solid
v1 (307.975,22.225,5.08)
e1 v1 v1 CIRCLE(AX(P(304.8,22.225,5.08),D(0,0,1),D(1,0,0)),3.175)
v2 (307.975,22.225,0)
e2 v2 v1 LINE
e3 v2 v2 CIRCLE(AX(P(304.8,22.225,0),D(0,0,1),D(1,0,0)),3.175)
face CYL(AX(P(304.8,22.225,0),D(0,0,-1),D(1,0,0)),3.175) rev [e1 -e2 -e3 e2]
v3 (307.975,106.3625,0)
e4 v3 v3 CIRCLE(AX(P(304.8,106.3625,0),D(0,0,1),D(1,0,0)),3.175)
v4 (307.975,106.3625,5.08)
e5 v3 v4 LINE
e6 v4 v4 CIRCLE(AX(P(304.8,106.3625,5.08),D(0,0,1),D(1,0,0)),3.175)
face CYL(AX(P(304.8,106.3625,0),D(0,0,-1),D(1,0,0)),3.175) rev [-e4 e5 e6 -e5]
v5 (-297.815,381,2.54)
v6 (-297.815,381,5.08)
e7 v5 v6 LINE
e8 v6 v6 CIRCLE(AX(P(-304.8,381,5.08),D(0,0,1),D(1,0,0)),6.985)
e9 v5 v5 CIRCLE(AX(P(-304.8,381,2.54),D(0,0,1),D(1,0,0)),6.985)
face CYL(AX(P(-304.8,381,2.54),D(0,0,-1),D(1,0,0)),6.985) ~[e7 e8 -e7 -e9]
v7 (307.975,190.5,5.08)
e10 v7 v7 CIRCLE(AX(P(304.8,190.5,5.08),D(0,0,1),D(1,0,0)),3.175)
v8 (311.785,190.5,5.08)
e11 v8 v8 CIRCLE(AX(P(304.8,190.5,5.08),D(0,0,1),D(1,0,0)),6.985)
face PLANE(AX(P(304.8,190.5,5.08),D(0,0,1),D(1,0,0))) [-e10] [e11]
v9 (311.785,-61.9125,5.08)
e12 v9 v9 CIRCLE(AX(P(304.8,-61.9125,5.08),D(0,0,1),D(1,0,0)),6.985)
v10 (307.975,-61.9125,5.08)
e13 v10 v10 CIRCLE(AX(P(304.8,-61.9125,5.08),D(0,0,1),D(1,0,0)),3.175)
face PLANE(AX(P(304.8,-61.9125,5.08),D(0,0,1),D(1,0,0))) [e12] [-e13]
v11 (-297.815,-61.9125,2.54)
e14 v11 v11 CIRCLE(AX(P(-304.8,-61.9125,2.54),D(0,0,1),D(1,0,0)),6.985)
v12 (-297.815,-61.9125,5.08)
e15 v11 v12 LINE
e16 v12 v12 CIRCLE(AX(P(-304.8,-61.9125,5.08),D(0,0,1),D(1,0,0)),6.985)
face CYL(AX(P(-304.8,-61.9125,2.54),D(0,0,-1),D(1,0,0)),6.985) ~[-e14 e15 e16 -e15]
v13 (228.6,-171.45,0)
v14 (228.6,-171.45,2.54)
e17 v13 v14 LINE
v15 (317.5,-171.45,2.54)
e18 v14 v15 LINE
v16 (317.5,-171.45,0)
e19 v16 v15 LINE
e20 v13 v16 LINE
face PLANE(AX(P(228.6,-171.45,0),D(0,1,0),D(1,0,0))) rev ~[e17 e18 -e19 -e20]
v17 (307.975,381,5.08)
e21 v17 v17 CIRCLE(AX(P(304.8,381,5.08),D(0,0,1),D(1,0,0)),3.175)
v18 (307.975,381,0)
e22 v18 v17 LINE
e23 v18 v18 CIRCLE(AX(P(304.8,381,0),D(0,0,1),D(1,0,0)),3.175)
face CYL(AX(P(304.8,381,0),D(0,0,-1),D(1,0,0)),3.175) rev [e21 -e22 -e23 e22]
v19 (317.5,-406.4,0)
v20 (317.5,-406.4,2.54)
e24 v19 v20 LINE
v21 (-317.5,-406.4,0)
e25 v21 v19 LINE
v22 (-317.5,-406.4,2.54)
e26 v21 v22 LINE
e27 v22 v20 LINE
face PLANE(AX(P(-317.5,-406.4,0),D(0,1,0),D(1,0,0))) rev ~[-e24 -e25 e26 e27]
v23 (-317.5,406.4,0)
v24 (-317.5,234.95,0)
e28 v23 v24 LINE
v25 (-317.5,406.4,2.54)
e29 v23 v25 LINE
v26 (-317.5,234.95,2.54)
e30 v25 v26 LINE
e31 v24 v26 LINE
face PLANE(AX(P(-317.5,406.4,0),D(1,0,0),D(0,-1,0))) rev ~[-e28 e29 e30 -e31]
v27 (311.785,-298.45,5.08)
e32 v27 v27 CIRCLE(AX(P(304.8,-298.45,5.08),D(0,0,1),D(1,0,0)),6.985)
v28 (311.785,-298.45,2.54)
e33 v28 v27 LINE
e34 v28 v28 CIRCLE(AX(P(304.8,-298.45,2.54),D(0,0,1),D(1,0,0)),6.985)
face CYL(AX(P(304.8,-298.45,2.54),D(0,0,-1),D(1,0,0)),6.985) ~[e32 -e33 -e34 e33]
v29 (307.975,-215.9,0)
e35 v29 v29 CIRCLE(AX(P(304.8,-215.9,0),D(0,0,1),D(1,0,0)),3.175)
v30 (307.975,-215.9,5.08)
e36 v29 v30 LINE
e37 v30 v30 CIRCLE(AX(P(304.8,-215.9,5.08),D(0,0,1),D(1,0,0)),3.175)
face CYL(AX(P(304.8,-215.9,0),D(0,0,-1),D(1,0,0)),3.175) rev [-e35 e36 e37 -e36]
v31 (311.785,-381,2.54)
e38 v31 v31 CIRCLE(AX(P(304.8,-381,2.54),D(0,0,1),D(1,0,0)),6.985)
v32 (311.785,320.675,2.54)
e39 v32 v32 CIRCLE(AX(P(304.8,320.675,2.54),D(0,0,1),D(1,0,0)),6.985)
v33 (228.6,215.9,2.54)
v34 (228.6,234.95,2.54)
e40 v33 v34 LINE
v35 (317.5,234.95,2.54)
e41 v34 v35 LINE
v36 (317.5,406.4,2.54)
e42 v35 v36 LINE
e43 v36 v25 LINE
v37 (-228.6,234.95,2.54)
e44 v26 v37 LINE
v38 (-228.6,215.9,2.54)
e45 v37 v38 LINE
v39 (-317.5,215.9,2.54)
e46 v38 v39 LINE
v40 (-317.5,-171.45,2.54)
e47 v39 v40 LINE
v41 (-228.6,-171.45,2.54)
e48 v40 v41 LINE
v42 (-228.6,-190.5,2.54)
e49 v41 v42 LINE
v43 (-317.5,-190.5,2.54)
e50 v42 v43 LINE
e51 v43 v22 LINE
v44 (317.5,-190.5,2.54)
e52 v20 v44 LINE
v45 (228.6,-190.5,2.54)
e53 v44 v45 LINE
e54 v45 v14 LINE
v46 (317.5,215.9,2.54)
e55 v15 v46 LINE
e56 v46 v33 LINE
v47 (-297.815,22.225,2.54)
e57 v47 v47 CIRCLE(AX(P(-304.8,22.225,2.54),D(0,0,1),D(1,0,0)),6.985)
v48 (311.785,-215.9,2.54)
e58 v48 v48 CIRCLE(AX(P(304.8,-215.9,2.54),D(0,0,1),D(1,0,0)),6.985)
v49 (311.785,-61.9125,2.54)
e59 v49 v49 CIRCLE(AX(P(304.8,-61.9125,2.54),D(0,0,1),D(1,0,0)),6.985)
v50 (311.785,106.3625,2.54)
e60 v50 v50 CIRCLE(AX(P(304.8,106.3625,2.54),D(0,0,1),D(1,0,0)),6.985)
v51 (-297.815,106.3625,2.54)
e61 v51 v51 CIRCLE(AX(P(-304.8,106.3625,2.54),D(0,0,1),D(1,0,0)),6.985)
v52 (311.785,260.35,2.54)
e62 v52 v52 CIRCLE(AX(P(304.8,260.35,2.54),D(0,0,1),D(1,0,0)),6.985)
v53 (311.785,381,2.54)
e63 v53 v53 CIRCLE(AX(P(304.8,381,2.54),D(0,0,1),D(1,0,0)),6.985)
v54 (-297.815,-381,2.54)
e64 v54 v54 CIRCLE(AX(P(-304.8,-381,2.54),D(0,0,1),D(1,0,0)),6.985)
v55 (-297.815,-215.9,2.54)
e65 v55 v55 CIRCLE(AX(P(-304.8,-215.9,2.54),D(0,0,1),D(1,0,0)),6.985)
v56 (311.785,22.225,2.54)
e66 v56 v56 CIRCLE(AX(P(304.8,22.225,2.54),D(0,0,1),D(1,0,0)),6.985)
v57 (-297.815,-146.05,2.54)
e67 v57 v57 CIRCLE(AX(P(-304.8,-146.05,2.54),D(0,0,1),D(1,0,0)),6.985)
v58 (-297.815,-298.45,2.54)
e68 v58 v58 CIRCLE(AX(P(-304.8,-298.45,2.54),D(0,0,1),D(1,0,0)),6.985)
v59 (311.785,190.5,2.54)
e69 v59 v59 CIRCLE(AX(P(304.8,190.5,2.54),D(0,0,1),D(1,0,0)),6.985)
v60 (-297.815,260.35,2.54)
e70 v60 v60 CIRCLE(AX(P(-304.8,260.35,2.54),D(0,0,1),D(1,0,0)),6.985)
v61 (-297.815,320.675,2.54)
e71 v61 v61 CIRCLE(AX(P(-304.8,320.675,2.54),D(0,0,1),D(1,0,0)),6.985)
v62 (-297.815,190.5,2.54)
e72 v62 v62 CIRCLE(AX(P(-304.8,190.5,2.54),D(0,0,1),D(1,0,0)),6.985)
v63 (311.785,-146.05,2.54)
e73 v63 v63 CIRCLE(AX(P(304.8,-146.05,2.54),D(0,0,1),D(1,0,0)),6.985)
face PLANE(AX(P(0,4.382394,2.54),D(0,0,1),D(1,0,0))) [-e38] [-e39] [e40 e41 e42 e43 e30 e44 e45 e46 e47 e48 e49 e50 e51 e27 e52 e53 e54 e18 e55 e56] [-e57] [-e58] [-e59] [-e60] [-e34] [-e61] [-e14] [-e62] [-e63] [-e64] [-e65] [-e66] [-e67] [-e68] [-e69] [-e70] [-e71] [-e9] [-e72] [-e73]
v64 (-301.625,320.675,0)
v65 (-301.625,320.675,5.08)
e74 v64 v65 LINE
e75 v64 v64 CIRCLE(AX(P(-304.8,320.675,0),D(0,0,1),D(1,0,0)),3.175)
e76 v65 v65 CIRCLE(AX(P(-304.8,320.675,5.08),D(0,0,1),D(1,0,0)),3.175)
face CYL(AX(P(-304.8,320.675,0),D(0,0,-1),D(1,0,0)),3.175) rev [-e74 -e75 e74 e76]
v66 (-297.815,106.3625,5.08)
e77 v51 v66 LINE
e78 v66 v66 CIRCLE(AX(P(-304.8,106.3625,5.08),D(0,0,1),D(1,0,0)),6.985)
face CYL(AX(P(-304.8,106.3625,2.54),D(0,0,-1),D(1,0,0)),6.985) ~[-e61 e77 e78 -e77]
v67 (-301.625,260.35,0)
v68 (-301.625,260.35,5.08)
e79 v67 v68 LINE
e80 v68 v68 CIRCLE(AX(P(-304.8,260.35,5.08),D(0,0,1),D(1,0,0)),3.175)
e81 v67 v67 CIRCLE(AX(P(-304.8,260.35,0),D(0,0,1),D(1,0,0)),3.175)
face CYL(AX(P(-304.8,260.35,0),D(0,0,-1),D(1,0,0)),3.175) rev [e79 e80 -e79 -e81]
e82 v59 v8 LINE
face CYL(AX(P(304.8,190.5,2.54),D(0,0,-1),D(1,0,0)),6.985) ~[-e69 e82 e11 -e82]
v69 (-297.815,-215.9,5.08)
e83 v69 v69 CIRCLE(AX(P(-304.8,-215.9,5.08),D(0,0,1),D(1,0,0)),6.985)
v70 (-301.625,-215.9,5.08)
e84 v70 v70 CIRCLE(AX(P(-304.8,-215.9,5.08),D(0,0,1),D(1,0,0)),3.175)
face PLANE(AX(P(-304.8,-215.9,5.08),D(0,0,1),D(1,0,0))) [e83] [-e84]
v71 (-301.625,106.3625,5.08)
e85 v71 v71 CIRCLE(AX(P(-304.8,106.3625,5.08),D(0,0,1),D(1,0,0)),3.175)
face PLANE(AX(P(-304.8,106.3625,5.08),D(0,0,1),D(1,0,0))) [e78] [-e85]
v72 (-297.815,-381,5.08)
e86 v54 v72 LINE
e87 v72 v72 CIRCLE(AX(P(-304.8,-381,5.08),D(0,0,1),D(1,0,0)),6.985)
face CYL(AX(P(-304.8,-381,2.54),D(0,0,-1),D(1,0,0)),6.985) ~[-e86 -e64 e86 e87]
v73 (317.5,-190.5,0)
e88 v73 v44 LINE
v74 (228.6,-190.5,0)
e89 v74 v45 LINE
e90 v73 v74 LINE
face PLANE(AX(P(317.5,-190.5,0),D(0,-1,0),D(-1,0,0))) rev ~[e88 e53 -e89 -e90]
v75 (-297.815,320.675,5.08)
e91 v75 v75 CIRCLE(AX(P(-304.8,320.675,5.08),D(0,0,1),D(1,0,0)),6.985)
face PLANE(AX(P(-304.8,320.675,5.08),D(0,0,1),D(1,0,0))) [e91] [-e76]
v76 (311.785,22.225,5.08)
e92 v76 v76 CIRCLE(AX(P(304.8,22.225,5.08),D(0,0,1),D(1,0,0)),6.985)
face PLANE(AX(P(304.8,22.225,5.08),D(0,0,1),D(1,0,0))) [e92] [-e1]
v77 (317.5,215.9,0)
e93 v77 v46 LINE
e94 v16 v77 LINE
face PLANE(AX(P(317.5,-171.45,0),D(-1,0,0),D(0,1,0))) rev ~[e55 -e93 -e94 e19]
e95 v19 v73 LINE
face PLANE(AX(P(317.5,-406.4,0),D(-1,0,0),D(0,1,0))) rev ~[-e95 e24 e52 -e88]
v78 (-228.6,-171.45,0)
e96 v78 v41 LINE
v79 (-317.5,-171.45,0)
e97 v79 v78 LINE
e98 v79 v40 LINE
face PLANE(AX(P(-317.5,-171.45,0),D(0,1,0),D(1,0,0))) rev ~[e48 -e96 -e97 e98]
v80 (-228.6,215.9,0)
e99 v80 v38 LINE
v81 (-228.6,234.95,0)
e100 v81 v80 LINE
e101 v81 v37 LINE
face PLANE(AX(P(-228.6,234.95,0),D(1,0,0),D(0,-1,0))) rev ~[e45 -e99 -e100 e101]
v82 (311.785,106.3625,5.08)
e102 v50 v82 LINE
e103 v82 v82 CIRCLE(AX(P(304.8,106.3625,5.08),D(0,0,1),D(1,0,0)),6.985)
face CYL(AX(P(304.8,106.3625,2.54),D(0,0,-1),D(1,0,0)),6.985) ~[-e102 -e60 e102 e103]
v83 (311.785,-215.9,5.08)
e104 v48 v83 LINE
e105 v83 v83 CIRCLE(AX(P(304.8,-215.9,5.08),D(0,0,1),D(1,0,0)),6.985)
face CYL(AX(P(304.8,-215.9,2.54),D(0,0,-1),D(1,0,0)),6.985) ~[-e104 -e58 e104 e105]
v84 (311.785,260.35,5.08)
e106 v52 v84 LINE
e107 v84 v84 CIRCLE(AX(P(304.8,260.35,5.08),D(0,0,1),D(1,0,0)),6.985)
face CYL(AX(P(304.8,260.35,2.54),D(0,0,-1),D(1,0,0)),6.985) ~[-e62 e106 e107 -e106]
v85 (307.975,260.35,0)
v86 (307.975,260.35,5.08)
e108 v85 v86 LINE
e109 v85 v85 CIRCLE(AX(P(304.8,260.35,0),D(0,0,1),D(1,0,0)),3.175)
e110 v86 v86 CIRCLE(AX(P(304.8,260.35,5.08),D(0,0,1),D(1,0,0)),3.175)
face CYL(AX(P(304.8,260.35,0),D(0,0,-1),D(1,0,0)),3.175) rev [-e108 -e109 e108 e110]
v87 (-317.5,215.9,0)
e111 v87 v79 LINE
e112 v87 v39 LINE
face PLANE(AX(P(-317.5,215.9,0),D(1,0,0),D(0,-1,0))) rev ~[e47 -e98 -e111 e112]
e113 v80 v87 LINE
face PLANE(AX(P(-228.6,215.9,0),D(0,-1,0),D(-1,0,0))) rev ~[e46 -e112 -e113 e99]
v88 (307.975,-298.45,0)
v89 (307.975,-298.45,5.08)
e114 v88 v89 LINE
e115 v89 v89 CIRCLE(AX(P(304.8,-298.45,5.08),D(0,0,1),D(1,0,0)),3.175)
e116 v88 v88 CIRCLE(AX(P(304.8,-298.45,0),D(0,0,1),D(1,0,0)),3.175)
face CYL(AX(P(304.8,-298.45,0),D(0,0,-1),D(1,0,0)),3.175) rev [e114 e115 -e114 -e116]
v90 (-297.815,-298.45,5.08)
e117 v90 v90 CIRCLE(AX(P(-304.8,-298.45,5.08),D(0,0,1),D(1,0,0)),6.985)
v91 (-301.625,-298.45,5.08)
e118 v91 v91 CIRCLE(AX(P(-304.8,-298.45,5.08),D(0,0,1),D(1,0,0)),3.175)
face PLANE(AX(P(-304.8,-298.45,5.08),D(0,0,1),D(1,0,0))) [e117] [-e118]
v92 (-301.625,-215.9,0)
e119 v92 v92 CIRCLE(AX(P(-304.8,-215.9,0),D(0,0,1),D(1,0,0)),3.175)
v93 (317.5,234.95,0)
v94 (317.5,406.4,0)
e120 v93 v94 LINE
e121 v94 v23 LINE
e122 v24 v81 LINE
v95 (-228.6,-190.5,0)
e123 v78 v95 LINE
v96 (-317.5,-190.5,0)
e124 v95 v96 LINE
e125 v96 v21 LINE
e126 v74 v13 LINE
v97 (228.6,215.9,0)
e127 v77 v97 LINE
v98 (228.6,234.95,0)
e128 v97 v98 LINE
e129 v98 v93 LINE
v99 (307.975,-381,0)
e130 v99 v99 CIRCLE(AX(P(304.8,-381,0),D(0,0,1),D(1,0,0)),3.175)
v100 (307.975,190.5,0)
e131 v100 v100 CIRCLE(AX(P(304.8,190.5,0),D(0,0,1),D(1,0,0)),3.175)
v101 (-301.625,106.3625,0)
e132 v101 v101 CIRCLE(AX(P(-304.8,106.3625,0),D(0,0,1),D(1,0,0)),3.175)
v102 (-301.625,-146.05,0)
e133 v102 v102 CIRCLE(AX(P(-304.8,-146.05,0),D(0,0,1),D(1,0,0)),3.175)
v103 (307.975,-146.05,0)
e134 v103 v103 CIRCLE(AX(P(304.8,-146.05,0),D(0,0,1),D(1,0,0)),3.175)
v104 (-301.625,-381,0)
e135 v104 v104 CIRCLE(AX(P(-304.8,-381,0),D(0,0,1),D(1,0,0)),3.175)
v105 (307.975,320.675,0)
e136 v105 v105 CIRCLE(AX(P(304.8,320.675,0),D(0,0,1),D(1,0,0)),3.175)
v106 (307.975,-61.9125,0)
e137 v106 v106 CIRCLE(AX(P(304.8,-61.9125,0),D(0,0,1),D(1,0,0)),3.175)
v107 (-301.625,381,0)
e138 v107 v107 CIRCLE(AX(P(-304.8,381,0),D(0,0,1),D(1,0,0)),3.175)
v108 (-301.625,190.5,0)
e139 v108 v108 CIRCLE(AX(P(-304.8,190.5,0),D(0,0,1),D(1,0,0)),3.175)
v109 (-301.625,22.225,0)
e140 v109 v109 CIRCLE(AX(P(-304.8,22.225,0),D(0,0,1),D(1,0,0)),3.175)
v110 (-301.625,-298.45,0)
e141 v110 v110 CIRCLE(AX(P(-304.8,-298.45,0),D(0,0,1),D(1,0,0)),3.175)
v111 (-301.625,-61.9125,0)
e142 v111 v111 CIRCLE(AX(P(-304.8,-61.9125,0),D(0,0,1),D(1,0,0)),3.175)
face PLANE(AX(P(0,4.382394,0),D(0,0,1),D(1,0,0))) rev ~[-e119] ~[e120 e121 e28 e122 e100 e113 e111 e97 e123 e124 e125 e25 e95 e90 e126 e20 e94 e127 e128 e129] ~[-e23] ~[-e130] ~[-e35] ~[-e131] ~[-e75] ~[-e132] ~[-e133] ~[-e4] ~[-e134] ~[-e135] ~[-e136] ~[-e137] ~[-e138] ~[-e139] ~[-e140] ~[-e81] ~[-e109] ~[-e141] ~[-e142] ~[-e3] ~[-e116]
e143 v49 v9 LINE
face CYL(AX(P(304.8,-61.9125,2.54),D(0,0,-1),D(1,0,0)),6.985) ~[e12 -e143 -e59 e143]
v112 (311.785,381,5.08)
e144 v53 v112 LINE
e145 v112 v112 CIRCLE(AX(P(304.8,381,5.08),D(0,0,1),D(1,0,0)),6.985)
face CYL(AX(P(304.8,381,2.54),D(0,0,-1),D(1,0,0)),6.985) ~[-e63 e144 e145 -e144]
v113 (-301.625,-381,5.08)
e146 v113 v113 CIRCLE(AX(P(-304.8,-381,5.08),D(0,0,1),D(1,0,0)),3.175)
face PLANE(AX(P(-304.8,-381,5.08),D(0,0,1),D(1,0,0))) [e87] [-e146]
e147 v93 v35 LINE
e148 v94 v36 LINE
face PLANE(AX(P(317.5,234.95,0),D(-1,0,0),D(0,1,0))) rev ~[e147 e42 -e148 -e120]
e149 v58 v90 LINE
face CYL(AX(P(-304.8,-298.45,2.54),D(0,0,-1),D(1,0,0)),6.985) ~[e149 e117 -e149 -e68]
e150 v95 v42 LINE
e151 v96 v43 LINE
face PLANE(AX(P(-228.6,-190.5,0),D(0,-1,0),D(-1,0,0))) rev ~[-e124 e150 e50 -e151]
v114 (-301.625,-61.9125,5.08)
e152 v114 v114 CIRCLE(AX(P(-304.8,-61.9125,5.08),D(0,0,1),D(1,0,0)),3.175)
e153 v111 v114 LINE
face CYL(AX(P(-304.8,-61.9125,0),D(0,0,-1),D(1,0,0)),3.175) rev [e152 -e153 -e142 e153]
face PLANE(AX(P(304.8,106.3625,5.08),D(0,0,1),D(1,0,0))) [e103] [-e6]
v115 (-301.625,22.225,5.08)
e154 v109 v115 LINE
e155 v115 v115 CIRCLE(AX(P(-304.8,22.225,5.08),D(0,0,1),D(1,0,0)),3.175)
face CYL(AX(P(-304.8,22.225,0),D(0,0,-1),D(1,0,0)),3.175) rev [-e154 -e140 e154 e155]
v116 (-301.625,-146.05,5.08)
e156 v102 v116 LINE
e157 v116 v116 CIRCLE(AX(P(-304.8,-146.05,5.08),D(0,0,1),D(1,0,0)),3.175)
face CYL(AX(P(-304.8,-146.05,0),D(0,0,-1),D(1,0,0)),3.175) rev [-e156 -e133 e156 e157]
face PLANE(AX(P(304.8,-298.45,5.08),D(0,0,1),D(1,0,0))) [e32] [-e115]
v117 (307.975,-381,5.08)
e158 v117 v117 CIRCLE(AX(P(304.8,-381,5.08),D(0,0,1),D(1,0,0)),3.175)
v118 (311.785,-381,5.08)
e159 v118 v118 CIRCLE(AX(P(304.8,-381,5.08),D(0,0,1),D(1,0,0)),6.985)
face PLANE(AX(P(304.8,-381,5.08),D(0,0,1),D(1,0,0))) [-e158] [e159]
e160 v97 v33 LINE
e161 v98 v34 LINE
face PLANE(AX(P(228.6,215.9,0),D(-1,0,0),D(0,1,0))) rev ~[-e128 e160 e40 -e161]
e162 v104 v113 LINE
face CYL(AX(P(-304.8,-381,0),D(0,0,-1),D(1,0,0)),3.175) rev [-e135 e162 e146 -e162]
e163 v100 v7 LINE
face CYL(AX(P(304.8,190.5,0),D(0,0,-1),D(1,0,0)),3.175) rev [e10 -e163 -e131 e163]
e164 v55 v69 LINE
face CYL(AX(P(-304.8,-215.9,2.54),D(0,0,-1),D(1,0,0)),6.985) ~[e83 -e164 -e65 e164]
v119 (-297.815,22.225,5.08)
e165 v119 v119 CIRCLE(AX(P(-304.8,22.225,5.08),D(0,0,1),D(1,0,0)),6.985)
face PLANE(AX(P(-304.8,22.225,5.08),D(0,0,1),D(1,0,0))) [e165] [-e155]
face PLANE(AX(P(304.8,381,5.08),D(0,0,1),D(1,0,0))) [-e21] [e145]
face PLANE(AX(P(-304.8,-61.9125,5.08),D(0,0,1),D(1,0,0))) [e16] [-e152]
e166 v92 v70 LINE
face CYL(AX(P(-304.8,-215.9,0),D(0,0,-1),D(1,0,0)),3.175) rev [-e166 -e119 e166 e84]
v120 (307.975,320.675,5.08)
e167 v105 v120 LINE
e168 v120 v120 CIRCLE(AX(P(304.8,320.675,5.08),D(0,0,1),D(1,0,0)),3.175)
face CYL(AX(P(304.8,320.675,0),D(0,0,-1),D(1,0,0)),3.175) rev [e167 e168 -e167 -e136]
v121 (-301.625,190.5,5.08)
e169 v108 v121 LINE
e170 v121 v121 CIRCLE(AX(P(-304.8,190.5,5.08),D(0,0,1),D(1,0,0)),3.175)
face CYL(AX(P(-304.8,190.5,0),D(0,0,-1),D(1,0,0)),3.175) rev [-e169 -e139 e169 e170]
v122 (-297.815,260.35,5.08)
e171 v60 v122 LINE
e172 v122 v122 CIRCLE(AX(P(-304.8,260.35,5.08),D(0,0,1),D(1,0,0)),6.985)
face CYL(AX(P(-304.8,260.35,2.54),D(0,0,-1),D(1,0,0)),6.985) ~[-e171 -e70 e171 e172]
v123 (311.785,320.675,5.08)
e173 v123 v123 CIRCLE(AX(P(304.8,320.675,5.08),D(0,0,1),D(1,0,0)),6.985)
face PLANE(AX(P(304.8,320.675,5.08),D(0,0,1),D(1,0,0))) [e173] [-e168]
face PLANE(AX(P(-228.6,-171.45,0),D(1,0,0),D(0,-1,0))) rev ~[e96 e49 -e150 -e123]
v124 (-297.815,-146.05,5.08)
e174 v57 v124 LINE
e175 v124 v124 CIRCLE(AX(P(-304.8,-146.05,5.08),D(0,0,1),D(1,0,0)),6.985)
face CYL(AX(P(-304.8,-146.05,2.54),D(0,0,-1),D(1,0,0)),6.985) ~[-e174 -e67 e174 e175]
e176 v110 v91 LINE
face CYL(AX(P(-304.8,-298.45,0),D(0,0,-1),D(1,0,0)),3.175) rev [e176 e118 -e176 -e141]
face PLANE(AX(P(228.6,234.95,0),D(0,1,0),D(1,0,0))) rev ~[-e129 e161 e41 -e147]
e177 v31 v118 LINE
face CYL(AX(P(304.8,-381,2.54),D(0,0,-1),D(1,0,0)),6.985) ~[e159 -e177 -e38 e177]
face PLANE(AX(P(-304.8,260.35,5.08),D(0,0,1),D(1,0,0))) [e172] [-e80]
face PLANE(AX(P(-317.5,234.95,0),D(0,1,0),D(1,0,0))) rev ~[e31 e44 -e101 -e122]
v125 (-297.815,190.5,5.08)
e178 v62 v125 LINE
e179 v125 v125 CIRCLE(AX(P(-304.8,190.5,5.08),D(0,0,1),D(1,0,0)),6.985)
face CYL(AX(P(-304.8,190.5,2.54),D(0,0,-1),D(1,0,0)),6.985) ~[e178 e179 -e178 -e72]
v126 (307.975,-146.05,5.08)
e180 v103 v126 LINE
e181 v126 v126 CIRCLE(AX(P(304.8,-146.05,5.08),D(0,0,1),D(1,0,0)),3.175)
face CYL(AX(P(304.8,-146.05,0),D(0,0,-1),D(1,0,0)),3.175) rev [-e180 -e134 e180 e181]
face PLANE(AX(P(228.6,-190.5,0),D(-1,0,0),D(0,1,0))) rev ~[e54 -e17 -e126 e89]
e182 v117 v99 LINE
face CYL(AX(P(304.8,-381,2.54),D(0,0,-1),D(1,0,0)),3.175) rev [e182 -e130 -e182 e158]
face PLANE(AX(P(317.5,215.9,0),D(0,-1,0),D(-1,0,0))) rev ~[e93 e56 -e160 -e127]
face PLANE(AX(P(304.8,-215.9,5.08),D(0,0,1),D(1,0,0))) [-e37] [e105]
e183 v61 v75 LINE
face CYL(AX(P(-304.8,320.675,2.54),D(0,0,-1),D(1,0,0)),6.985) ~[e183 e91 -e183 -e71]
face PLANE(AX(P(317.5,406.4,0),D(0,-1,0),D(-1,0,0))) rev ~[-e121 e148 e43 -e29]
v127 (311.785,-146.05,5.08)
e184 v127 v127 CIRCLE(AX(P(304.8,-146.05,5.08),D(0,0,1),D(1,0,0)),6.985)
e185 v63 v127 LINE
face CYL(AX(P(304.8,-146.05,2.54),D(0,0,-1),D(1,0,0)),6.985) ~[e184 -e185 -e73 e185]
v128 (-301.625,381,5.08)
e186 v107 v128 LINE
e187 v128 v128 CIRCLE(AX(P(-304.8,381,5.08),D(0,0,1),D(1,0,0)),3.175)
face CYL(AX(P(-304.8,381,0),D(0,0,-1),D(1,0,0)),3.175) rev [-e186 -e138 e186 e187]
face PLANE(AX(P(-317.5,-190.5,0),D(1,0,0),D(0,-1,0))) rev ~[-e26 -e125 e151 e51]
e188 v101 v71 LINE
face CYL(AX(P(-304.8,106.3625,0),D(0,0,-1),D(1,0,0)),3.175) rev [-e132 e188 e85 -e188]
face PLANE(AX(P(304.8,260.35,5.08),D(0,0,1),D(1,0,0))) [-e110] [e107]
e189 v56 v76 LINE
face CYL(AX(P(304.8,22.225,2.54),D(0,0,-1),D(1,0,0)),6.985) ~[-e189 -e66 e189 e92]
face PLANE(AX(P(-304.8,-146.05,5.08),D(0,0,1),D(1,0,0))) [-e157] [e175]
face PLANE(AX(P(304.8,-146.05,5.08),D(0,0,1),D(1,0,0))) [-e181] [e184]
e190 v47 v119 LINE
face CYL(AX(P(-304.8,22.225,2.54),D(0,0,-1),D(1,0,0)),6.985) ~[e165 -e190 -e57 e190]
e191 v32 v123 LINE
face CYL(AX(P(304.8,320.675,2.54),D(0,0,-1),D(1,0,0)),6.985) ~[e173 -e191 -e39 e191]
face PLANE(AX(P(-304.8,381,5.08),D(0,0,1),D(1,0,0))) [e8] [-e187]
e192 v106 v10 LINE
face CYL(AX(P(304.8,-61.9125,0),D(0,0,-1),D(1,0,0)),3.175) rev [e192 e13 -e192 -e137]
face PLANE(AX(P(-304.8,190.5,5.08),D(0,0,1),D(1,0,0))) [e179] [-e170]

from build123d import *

# Parameters (mm, degrees)
F0_R     = 3.175
F1_DEPTH = 2.54
F2_R     = 6.985
F2_R_2   = 3.175
F3_DEPTH = 2.54


with BuildPart() as f1:
    # F0 (on Top) → F1 (new body)
    with BuildSketch(Plane.XY):
        Polygon((-317.5, -406.4), (317.5, -406.4), (317.5, -190.5), (228.6, -190.5), (228.6, -171.45), (317.5, -171.45), (317.5, 215.9), (228.6, 215.9), (228.6, 234.95), (317.5, 234.95), (317.5, 406.4), (-317.5, 406.4), (-317.5, 234.95), (-228.6, 234.95), (-228.6, 215.9), (-317.5, 215.9), (-317.5, -171.45), (-228.6, -171.45), (-228.6, -190.5), (-317.5, -190.5), align=None)
        with Locations((-304.8, -381)):
            Circle(F0_R, mode=Mode.SUBTRACT)
        with Locations((-304.8, -298.45)):
            Circle(F0_R, mode=Mode.SUBTRACT)
        with Locations((-304.8, -215.9)):
            Circle(F0_R, mode=Mode.SUBTRACT)
        with Locations((-304.8, -146.05)):
            Circle(F0_R, mode=Mode.SUBTRACT)
        with Locations((-304.8, -61.9125)):
            Circle(F0_R, mode=Mode.SUBTRACT)
        with Locations((304.8, -381)):
            Circle(F0_R, mode=Mode.SUBTRACT)
        with Locations((304.8, -298.45)):
            Circle(F0_R, mode=Mode.SUBTRACT)
        with Locations((304.8, -215.9)):
            Circle(F0_R, mode=Mode.SUBTRACT)
        with Locations((304.8, -146.05)):
            Circle(F0_R, mode=Mode.SUBTRACT)
        with Locations((304.8, -61.9125)):
            Circle(F0_R, mode=Mode.SUBTRACT)
        with Locations((-304.8, 22.225)):
            Circle(F0_R, mode=Mode.SUBTRACT)
        with Locations((-304.8, 106.3625)):
            Circle(F0_R, mode=Mode.SUBTRACT)
        with Locations((-304.8, 190.5)):
            Circle(F0_R, mode=Mode.SUBTRACT)
        with Locations((-304.8, 260.35)):
            Circle(F0_R, mode=Mode.SUBTRACT)
        with Locations((-304.8, 320.675)):
            Circle(F0_R, mode=Mode.SUBTRACT)
        with Locations((-304.8, 381)):
            Circle(F0_R, mode=Mode.SUBTRACT)
        with Locations((304.8, 22.225)):
            Circle(F0_R, mode=Mode.SUBTRACT)
        with Locations((304.8, 106.3625)):
            Circle(F0_R, mode=Mode.SUBTRACT)
        with Locations((304.8, 190.5)):
            Circle(F0_R, mode=Mode.SUBTRACT)
        with Locations((304.8, 260.35)):
            Circle(F0_R, mode=Mode.SUBTRACT)
        with Locations((304.8, 320.675)):
            Circle(F0_R, mode=Mode.SUBTRACT)
        with Locations((304.8, 381)):
            Circle(F0_R, mode=Mode.SUBTRACT)
    extrude(amount=F1_DEPTH)

    # F2 (on face) → F3 (join)
    with BuildSketch(Plane.XY.offset(2.54)):
        with Locations((304.8, -381)):
            Circle(F2_R)
        with Locations((304.8, -381)):
            Circle(F2_R_2, mode=Mode.SUBTRACT)
        with Locations((304.8, -298.45)):
            Circle(F2_R)
        with Locations((304.8, -298.45)):
            Circle(F2_R_2, mode=Mode.SUBTRACT)
        with Locations((304.8, -215.9)):
            Circle(F2_R)
        with Locations((304.8, -215.9)):
            Circle(F2_R_2, mode=Mode.SUBTRACT)
        with Locations((304.8, -146.05)):
            Circle(F2_R)
        with Locations((304.8, -146.05)):
            Circle(F2_R_2, mode=Mode.SUBTRACT)
        with Locations((304.8, -61.9125)):
            Circle(F2_R)
        with Locations((304.8, -61.9125)):
            Circle(F2_R_2, mode=Mode.SUBTRACT)
        with Locations((304.8, 22.225)):
            Circle(F2_R)
        with Locations((304.8, 22.225)):
            Circle(F2_R_2, mode=Mode.SUBTRACT)
        with Locations((304.8, 106.3625)):
            Circle(F2_R)
        with Locations((304.8, 106.3625)):
            Circle(F2_R_2, mode=Mode.SUBTRACT)
        with Locations((304.8, 190.5)):
            Circle(F2_R)
        with Locations((304.8, 190.5)):
            Circle(F2_R_2, mode=Mode.SUBTRACT)
        with Locations((304.8, 260.35)):
            Circle(F2_R)
        with Locations((304.8, 260.35)):
            Circle(F2_R_2, mode=Mode.SUBTRACT)
        with Locations((304.8, 320.675)):
            Circle(F2_R)
        with Locations((304.8, 320.675)):
            Circle(F2_R_2, mode=Mode.SUBTRACT)
        with Locations((304.8, 381)):
            Circle(F2_R)
        with Locations((304.8, 381)):
            Circle(F2_R_2, mode=Mode.SUBTRACT)
        with Locations((-304.8, 381)):
            Circle(F2_R)
        with Locations((-304.8, 381)):
            Circle(F2_R_2, mode=Mode.SUBTRACT)
        with Locations((-304.8, 320.675)):
            Circle(F2_R)
        with Locations((-304.8, 320.675)):
            Circle(F2_R_2, mode=Mode.SUBTRACT)
        with Locations((-304.8, 260.35)):
            Circle(F2_R)
        with Locations((-304.8, 260.35)):
            Circle(F2_R_2, mode=Mode.SUBTRACT)
        with Locations((-304.8, 190.5)):
            Circle(F2_R)
        with Locations((-304.8, 190.5)):
            Circle(F2_R_2, mode=Mode.SUBTRACT)
        with Locations((-304.8, 106.3625)):
            Circle(F2_R)
        with Locations((-304.8, 106.3625)):
            Circle(F2_R_2, mode=Mode.SUBTRACT)
        with Locations((-304.8, 22.225)):
            Circle(F2_R)
        with Locations((-304.8, 22.225)):
            Circle(F2_R_2, mode=Mode.SUBTRACT)
        with Locations((-304.8, -61.9125)):
            Circle(F2_R)
        with Locations((-304.8, -61.9125)):
            Circle(F2_R_2, mode=Mode.SUBTRACT)
        with Locations((-304.8, -146.05)):
            Circle(F2_R)
        with Locations((-304.8, -146.05)):
            Circle(F2_R_2, mode=Mode.SUBTRACT)
        with Locations((-304.8, -215.9)):
            Circle(F2_R)
        with Locations((-304.8, -215.9)):
            Circle(F2_R_2, mode=Mode.SUBTRACT)
        with Locations((-304.8, -298.45)):
            Circle(F2_R)
        with Locations((-304.8, -298.45)):
            Circle(F2_R_2, mode=Mode.SUBTRACT)
        with Locations((-304.8, -381)):
            Circle(F2_R)
        with Locations((-304.8, -381)):
            Circle(F2_R_2, mode=Mode.SUBTRACT)
    extrude(amount=F3_DEPTH)


solid = f1.part
